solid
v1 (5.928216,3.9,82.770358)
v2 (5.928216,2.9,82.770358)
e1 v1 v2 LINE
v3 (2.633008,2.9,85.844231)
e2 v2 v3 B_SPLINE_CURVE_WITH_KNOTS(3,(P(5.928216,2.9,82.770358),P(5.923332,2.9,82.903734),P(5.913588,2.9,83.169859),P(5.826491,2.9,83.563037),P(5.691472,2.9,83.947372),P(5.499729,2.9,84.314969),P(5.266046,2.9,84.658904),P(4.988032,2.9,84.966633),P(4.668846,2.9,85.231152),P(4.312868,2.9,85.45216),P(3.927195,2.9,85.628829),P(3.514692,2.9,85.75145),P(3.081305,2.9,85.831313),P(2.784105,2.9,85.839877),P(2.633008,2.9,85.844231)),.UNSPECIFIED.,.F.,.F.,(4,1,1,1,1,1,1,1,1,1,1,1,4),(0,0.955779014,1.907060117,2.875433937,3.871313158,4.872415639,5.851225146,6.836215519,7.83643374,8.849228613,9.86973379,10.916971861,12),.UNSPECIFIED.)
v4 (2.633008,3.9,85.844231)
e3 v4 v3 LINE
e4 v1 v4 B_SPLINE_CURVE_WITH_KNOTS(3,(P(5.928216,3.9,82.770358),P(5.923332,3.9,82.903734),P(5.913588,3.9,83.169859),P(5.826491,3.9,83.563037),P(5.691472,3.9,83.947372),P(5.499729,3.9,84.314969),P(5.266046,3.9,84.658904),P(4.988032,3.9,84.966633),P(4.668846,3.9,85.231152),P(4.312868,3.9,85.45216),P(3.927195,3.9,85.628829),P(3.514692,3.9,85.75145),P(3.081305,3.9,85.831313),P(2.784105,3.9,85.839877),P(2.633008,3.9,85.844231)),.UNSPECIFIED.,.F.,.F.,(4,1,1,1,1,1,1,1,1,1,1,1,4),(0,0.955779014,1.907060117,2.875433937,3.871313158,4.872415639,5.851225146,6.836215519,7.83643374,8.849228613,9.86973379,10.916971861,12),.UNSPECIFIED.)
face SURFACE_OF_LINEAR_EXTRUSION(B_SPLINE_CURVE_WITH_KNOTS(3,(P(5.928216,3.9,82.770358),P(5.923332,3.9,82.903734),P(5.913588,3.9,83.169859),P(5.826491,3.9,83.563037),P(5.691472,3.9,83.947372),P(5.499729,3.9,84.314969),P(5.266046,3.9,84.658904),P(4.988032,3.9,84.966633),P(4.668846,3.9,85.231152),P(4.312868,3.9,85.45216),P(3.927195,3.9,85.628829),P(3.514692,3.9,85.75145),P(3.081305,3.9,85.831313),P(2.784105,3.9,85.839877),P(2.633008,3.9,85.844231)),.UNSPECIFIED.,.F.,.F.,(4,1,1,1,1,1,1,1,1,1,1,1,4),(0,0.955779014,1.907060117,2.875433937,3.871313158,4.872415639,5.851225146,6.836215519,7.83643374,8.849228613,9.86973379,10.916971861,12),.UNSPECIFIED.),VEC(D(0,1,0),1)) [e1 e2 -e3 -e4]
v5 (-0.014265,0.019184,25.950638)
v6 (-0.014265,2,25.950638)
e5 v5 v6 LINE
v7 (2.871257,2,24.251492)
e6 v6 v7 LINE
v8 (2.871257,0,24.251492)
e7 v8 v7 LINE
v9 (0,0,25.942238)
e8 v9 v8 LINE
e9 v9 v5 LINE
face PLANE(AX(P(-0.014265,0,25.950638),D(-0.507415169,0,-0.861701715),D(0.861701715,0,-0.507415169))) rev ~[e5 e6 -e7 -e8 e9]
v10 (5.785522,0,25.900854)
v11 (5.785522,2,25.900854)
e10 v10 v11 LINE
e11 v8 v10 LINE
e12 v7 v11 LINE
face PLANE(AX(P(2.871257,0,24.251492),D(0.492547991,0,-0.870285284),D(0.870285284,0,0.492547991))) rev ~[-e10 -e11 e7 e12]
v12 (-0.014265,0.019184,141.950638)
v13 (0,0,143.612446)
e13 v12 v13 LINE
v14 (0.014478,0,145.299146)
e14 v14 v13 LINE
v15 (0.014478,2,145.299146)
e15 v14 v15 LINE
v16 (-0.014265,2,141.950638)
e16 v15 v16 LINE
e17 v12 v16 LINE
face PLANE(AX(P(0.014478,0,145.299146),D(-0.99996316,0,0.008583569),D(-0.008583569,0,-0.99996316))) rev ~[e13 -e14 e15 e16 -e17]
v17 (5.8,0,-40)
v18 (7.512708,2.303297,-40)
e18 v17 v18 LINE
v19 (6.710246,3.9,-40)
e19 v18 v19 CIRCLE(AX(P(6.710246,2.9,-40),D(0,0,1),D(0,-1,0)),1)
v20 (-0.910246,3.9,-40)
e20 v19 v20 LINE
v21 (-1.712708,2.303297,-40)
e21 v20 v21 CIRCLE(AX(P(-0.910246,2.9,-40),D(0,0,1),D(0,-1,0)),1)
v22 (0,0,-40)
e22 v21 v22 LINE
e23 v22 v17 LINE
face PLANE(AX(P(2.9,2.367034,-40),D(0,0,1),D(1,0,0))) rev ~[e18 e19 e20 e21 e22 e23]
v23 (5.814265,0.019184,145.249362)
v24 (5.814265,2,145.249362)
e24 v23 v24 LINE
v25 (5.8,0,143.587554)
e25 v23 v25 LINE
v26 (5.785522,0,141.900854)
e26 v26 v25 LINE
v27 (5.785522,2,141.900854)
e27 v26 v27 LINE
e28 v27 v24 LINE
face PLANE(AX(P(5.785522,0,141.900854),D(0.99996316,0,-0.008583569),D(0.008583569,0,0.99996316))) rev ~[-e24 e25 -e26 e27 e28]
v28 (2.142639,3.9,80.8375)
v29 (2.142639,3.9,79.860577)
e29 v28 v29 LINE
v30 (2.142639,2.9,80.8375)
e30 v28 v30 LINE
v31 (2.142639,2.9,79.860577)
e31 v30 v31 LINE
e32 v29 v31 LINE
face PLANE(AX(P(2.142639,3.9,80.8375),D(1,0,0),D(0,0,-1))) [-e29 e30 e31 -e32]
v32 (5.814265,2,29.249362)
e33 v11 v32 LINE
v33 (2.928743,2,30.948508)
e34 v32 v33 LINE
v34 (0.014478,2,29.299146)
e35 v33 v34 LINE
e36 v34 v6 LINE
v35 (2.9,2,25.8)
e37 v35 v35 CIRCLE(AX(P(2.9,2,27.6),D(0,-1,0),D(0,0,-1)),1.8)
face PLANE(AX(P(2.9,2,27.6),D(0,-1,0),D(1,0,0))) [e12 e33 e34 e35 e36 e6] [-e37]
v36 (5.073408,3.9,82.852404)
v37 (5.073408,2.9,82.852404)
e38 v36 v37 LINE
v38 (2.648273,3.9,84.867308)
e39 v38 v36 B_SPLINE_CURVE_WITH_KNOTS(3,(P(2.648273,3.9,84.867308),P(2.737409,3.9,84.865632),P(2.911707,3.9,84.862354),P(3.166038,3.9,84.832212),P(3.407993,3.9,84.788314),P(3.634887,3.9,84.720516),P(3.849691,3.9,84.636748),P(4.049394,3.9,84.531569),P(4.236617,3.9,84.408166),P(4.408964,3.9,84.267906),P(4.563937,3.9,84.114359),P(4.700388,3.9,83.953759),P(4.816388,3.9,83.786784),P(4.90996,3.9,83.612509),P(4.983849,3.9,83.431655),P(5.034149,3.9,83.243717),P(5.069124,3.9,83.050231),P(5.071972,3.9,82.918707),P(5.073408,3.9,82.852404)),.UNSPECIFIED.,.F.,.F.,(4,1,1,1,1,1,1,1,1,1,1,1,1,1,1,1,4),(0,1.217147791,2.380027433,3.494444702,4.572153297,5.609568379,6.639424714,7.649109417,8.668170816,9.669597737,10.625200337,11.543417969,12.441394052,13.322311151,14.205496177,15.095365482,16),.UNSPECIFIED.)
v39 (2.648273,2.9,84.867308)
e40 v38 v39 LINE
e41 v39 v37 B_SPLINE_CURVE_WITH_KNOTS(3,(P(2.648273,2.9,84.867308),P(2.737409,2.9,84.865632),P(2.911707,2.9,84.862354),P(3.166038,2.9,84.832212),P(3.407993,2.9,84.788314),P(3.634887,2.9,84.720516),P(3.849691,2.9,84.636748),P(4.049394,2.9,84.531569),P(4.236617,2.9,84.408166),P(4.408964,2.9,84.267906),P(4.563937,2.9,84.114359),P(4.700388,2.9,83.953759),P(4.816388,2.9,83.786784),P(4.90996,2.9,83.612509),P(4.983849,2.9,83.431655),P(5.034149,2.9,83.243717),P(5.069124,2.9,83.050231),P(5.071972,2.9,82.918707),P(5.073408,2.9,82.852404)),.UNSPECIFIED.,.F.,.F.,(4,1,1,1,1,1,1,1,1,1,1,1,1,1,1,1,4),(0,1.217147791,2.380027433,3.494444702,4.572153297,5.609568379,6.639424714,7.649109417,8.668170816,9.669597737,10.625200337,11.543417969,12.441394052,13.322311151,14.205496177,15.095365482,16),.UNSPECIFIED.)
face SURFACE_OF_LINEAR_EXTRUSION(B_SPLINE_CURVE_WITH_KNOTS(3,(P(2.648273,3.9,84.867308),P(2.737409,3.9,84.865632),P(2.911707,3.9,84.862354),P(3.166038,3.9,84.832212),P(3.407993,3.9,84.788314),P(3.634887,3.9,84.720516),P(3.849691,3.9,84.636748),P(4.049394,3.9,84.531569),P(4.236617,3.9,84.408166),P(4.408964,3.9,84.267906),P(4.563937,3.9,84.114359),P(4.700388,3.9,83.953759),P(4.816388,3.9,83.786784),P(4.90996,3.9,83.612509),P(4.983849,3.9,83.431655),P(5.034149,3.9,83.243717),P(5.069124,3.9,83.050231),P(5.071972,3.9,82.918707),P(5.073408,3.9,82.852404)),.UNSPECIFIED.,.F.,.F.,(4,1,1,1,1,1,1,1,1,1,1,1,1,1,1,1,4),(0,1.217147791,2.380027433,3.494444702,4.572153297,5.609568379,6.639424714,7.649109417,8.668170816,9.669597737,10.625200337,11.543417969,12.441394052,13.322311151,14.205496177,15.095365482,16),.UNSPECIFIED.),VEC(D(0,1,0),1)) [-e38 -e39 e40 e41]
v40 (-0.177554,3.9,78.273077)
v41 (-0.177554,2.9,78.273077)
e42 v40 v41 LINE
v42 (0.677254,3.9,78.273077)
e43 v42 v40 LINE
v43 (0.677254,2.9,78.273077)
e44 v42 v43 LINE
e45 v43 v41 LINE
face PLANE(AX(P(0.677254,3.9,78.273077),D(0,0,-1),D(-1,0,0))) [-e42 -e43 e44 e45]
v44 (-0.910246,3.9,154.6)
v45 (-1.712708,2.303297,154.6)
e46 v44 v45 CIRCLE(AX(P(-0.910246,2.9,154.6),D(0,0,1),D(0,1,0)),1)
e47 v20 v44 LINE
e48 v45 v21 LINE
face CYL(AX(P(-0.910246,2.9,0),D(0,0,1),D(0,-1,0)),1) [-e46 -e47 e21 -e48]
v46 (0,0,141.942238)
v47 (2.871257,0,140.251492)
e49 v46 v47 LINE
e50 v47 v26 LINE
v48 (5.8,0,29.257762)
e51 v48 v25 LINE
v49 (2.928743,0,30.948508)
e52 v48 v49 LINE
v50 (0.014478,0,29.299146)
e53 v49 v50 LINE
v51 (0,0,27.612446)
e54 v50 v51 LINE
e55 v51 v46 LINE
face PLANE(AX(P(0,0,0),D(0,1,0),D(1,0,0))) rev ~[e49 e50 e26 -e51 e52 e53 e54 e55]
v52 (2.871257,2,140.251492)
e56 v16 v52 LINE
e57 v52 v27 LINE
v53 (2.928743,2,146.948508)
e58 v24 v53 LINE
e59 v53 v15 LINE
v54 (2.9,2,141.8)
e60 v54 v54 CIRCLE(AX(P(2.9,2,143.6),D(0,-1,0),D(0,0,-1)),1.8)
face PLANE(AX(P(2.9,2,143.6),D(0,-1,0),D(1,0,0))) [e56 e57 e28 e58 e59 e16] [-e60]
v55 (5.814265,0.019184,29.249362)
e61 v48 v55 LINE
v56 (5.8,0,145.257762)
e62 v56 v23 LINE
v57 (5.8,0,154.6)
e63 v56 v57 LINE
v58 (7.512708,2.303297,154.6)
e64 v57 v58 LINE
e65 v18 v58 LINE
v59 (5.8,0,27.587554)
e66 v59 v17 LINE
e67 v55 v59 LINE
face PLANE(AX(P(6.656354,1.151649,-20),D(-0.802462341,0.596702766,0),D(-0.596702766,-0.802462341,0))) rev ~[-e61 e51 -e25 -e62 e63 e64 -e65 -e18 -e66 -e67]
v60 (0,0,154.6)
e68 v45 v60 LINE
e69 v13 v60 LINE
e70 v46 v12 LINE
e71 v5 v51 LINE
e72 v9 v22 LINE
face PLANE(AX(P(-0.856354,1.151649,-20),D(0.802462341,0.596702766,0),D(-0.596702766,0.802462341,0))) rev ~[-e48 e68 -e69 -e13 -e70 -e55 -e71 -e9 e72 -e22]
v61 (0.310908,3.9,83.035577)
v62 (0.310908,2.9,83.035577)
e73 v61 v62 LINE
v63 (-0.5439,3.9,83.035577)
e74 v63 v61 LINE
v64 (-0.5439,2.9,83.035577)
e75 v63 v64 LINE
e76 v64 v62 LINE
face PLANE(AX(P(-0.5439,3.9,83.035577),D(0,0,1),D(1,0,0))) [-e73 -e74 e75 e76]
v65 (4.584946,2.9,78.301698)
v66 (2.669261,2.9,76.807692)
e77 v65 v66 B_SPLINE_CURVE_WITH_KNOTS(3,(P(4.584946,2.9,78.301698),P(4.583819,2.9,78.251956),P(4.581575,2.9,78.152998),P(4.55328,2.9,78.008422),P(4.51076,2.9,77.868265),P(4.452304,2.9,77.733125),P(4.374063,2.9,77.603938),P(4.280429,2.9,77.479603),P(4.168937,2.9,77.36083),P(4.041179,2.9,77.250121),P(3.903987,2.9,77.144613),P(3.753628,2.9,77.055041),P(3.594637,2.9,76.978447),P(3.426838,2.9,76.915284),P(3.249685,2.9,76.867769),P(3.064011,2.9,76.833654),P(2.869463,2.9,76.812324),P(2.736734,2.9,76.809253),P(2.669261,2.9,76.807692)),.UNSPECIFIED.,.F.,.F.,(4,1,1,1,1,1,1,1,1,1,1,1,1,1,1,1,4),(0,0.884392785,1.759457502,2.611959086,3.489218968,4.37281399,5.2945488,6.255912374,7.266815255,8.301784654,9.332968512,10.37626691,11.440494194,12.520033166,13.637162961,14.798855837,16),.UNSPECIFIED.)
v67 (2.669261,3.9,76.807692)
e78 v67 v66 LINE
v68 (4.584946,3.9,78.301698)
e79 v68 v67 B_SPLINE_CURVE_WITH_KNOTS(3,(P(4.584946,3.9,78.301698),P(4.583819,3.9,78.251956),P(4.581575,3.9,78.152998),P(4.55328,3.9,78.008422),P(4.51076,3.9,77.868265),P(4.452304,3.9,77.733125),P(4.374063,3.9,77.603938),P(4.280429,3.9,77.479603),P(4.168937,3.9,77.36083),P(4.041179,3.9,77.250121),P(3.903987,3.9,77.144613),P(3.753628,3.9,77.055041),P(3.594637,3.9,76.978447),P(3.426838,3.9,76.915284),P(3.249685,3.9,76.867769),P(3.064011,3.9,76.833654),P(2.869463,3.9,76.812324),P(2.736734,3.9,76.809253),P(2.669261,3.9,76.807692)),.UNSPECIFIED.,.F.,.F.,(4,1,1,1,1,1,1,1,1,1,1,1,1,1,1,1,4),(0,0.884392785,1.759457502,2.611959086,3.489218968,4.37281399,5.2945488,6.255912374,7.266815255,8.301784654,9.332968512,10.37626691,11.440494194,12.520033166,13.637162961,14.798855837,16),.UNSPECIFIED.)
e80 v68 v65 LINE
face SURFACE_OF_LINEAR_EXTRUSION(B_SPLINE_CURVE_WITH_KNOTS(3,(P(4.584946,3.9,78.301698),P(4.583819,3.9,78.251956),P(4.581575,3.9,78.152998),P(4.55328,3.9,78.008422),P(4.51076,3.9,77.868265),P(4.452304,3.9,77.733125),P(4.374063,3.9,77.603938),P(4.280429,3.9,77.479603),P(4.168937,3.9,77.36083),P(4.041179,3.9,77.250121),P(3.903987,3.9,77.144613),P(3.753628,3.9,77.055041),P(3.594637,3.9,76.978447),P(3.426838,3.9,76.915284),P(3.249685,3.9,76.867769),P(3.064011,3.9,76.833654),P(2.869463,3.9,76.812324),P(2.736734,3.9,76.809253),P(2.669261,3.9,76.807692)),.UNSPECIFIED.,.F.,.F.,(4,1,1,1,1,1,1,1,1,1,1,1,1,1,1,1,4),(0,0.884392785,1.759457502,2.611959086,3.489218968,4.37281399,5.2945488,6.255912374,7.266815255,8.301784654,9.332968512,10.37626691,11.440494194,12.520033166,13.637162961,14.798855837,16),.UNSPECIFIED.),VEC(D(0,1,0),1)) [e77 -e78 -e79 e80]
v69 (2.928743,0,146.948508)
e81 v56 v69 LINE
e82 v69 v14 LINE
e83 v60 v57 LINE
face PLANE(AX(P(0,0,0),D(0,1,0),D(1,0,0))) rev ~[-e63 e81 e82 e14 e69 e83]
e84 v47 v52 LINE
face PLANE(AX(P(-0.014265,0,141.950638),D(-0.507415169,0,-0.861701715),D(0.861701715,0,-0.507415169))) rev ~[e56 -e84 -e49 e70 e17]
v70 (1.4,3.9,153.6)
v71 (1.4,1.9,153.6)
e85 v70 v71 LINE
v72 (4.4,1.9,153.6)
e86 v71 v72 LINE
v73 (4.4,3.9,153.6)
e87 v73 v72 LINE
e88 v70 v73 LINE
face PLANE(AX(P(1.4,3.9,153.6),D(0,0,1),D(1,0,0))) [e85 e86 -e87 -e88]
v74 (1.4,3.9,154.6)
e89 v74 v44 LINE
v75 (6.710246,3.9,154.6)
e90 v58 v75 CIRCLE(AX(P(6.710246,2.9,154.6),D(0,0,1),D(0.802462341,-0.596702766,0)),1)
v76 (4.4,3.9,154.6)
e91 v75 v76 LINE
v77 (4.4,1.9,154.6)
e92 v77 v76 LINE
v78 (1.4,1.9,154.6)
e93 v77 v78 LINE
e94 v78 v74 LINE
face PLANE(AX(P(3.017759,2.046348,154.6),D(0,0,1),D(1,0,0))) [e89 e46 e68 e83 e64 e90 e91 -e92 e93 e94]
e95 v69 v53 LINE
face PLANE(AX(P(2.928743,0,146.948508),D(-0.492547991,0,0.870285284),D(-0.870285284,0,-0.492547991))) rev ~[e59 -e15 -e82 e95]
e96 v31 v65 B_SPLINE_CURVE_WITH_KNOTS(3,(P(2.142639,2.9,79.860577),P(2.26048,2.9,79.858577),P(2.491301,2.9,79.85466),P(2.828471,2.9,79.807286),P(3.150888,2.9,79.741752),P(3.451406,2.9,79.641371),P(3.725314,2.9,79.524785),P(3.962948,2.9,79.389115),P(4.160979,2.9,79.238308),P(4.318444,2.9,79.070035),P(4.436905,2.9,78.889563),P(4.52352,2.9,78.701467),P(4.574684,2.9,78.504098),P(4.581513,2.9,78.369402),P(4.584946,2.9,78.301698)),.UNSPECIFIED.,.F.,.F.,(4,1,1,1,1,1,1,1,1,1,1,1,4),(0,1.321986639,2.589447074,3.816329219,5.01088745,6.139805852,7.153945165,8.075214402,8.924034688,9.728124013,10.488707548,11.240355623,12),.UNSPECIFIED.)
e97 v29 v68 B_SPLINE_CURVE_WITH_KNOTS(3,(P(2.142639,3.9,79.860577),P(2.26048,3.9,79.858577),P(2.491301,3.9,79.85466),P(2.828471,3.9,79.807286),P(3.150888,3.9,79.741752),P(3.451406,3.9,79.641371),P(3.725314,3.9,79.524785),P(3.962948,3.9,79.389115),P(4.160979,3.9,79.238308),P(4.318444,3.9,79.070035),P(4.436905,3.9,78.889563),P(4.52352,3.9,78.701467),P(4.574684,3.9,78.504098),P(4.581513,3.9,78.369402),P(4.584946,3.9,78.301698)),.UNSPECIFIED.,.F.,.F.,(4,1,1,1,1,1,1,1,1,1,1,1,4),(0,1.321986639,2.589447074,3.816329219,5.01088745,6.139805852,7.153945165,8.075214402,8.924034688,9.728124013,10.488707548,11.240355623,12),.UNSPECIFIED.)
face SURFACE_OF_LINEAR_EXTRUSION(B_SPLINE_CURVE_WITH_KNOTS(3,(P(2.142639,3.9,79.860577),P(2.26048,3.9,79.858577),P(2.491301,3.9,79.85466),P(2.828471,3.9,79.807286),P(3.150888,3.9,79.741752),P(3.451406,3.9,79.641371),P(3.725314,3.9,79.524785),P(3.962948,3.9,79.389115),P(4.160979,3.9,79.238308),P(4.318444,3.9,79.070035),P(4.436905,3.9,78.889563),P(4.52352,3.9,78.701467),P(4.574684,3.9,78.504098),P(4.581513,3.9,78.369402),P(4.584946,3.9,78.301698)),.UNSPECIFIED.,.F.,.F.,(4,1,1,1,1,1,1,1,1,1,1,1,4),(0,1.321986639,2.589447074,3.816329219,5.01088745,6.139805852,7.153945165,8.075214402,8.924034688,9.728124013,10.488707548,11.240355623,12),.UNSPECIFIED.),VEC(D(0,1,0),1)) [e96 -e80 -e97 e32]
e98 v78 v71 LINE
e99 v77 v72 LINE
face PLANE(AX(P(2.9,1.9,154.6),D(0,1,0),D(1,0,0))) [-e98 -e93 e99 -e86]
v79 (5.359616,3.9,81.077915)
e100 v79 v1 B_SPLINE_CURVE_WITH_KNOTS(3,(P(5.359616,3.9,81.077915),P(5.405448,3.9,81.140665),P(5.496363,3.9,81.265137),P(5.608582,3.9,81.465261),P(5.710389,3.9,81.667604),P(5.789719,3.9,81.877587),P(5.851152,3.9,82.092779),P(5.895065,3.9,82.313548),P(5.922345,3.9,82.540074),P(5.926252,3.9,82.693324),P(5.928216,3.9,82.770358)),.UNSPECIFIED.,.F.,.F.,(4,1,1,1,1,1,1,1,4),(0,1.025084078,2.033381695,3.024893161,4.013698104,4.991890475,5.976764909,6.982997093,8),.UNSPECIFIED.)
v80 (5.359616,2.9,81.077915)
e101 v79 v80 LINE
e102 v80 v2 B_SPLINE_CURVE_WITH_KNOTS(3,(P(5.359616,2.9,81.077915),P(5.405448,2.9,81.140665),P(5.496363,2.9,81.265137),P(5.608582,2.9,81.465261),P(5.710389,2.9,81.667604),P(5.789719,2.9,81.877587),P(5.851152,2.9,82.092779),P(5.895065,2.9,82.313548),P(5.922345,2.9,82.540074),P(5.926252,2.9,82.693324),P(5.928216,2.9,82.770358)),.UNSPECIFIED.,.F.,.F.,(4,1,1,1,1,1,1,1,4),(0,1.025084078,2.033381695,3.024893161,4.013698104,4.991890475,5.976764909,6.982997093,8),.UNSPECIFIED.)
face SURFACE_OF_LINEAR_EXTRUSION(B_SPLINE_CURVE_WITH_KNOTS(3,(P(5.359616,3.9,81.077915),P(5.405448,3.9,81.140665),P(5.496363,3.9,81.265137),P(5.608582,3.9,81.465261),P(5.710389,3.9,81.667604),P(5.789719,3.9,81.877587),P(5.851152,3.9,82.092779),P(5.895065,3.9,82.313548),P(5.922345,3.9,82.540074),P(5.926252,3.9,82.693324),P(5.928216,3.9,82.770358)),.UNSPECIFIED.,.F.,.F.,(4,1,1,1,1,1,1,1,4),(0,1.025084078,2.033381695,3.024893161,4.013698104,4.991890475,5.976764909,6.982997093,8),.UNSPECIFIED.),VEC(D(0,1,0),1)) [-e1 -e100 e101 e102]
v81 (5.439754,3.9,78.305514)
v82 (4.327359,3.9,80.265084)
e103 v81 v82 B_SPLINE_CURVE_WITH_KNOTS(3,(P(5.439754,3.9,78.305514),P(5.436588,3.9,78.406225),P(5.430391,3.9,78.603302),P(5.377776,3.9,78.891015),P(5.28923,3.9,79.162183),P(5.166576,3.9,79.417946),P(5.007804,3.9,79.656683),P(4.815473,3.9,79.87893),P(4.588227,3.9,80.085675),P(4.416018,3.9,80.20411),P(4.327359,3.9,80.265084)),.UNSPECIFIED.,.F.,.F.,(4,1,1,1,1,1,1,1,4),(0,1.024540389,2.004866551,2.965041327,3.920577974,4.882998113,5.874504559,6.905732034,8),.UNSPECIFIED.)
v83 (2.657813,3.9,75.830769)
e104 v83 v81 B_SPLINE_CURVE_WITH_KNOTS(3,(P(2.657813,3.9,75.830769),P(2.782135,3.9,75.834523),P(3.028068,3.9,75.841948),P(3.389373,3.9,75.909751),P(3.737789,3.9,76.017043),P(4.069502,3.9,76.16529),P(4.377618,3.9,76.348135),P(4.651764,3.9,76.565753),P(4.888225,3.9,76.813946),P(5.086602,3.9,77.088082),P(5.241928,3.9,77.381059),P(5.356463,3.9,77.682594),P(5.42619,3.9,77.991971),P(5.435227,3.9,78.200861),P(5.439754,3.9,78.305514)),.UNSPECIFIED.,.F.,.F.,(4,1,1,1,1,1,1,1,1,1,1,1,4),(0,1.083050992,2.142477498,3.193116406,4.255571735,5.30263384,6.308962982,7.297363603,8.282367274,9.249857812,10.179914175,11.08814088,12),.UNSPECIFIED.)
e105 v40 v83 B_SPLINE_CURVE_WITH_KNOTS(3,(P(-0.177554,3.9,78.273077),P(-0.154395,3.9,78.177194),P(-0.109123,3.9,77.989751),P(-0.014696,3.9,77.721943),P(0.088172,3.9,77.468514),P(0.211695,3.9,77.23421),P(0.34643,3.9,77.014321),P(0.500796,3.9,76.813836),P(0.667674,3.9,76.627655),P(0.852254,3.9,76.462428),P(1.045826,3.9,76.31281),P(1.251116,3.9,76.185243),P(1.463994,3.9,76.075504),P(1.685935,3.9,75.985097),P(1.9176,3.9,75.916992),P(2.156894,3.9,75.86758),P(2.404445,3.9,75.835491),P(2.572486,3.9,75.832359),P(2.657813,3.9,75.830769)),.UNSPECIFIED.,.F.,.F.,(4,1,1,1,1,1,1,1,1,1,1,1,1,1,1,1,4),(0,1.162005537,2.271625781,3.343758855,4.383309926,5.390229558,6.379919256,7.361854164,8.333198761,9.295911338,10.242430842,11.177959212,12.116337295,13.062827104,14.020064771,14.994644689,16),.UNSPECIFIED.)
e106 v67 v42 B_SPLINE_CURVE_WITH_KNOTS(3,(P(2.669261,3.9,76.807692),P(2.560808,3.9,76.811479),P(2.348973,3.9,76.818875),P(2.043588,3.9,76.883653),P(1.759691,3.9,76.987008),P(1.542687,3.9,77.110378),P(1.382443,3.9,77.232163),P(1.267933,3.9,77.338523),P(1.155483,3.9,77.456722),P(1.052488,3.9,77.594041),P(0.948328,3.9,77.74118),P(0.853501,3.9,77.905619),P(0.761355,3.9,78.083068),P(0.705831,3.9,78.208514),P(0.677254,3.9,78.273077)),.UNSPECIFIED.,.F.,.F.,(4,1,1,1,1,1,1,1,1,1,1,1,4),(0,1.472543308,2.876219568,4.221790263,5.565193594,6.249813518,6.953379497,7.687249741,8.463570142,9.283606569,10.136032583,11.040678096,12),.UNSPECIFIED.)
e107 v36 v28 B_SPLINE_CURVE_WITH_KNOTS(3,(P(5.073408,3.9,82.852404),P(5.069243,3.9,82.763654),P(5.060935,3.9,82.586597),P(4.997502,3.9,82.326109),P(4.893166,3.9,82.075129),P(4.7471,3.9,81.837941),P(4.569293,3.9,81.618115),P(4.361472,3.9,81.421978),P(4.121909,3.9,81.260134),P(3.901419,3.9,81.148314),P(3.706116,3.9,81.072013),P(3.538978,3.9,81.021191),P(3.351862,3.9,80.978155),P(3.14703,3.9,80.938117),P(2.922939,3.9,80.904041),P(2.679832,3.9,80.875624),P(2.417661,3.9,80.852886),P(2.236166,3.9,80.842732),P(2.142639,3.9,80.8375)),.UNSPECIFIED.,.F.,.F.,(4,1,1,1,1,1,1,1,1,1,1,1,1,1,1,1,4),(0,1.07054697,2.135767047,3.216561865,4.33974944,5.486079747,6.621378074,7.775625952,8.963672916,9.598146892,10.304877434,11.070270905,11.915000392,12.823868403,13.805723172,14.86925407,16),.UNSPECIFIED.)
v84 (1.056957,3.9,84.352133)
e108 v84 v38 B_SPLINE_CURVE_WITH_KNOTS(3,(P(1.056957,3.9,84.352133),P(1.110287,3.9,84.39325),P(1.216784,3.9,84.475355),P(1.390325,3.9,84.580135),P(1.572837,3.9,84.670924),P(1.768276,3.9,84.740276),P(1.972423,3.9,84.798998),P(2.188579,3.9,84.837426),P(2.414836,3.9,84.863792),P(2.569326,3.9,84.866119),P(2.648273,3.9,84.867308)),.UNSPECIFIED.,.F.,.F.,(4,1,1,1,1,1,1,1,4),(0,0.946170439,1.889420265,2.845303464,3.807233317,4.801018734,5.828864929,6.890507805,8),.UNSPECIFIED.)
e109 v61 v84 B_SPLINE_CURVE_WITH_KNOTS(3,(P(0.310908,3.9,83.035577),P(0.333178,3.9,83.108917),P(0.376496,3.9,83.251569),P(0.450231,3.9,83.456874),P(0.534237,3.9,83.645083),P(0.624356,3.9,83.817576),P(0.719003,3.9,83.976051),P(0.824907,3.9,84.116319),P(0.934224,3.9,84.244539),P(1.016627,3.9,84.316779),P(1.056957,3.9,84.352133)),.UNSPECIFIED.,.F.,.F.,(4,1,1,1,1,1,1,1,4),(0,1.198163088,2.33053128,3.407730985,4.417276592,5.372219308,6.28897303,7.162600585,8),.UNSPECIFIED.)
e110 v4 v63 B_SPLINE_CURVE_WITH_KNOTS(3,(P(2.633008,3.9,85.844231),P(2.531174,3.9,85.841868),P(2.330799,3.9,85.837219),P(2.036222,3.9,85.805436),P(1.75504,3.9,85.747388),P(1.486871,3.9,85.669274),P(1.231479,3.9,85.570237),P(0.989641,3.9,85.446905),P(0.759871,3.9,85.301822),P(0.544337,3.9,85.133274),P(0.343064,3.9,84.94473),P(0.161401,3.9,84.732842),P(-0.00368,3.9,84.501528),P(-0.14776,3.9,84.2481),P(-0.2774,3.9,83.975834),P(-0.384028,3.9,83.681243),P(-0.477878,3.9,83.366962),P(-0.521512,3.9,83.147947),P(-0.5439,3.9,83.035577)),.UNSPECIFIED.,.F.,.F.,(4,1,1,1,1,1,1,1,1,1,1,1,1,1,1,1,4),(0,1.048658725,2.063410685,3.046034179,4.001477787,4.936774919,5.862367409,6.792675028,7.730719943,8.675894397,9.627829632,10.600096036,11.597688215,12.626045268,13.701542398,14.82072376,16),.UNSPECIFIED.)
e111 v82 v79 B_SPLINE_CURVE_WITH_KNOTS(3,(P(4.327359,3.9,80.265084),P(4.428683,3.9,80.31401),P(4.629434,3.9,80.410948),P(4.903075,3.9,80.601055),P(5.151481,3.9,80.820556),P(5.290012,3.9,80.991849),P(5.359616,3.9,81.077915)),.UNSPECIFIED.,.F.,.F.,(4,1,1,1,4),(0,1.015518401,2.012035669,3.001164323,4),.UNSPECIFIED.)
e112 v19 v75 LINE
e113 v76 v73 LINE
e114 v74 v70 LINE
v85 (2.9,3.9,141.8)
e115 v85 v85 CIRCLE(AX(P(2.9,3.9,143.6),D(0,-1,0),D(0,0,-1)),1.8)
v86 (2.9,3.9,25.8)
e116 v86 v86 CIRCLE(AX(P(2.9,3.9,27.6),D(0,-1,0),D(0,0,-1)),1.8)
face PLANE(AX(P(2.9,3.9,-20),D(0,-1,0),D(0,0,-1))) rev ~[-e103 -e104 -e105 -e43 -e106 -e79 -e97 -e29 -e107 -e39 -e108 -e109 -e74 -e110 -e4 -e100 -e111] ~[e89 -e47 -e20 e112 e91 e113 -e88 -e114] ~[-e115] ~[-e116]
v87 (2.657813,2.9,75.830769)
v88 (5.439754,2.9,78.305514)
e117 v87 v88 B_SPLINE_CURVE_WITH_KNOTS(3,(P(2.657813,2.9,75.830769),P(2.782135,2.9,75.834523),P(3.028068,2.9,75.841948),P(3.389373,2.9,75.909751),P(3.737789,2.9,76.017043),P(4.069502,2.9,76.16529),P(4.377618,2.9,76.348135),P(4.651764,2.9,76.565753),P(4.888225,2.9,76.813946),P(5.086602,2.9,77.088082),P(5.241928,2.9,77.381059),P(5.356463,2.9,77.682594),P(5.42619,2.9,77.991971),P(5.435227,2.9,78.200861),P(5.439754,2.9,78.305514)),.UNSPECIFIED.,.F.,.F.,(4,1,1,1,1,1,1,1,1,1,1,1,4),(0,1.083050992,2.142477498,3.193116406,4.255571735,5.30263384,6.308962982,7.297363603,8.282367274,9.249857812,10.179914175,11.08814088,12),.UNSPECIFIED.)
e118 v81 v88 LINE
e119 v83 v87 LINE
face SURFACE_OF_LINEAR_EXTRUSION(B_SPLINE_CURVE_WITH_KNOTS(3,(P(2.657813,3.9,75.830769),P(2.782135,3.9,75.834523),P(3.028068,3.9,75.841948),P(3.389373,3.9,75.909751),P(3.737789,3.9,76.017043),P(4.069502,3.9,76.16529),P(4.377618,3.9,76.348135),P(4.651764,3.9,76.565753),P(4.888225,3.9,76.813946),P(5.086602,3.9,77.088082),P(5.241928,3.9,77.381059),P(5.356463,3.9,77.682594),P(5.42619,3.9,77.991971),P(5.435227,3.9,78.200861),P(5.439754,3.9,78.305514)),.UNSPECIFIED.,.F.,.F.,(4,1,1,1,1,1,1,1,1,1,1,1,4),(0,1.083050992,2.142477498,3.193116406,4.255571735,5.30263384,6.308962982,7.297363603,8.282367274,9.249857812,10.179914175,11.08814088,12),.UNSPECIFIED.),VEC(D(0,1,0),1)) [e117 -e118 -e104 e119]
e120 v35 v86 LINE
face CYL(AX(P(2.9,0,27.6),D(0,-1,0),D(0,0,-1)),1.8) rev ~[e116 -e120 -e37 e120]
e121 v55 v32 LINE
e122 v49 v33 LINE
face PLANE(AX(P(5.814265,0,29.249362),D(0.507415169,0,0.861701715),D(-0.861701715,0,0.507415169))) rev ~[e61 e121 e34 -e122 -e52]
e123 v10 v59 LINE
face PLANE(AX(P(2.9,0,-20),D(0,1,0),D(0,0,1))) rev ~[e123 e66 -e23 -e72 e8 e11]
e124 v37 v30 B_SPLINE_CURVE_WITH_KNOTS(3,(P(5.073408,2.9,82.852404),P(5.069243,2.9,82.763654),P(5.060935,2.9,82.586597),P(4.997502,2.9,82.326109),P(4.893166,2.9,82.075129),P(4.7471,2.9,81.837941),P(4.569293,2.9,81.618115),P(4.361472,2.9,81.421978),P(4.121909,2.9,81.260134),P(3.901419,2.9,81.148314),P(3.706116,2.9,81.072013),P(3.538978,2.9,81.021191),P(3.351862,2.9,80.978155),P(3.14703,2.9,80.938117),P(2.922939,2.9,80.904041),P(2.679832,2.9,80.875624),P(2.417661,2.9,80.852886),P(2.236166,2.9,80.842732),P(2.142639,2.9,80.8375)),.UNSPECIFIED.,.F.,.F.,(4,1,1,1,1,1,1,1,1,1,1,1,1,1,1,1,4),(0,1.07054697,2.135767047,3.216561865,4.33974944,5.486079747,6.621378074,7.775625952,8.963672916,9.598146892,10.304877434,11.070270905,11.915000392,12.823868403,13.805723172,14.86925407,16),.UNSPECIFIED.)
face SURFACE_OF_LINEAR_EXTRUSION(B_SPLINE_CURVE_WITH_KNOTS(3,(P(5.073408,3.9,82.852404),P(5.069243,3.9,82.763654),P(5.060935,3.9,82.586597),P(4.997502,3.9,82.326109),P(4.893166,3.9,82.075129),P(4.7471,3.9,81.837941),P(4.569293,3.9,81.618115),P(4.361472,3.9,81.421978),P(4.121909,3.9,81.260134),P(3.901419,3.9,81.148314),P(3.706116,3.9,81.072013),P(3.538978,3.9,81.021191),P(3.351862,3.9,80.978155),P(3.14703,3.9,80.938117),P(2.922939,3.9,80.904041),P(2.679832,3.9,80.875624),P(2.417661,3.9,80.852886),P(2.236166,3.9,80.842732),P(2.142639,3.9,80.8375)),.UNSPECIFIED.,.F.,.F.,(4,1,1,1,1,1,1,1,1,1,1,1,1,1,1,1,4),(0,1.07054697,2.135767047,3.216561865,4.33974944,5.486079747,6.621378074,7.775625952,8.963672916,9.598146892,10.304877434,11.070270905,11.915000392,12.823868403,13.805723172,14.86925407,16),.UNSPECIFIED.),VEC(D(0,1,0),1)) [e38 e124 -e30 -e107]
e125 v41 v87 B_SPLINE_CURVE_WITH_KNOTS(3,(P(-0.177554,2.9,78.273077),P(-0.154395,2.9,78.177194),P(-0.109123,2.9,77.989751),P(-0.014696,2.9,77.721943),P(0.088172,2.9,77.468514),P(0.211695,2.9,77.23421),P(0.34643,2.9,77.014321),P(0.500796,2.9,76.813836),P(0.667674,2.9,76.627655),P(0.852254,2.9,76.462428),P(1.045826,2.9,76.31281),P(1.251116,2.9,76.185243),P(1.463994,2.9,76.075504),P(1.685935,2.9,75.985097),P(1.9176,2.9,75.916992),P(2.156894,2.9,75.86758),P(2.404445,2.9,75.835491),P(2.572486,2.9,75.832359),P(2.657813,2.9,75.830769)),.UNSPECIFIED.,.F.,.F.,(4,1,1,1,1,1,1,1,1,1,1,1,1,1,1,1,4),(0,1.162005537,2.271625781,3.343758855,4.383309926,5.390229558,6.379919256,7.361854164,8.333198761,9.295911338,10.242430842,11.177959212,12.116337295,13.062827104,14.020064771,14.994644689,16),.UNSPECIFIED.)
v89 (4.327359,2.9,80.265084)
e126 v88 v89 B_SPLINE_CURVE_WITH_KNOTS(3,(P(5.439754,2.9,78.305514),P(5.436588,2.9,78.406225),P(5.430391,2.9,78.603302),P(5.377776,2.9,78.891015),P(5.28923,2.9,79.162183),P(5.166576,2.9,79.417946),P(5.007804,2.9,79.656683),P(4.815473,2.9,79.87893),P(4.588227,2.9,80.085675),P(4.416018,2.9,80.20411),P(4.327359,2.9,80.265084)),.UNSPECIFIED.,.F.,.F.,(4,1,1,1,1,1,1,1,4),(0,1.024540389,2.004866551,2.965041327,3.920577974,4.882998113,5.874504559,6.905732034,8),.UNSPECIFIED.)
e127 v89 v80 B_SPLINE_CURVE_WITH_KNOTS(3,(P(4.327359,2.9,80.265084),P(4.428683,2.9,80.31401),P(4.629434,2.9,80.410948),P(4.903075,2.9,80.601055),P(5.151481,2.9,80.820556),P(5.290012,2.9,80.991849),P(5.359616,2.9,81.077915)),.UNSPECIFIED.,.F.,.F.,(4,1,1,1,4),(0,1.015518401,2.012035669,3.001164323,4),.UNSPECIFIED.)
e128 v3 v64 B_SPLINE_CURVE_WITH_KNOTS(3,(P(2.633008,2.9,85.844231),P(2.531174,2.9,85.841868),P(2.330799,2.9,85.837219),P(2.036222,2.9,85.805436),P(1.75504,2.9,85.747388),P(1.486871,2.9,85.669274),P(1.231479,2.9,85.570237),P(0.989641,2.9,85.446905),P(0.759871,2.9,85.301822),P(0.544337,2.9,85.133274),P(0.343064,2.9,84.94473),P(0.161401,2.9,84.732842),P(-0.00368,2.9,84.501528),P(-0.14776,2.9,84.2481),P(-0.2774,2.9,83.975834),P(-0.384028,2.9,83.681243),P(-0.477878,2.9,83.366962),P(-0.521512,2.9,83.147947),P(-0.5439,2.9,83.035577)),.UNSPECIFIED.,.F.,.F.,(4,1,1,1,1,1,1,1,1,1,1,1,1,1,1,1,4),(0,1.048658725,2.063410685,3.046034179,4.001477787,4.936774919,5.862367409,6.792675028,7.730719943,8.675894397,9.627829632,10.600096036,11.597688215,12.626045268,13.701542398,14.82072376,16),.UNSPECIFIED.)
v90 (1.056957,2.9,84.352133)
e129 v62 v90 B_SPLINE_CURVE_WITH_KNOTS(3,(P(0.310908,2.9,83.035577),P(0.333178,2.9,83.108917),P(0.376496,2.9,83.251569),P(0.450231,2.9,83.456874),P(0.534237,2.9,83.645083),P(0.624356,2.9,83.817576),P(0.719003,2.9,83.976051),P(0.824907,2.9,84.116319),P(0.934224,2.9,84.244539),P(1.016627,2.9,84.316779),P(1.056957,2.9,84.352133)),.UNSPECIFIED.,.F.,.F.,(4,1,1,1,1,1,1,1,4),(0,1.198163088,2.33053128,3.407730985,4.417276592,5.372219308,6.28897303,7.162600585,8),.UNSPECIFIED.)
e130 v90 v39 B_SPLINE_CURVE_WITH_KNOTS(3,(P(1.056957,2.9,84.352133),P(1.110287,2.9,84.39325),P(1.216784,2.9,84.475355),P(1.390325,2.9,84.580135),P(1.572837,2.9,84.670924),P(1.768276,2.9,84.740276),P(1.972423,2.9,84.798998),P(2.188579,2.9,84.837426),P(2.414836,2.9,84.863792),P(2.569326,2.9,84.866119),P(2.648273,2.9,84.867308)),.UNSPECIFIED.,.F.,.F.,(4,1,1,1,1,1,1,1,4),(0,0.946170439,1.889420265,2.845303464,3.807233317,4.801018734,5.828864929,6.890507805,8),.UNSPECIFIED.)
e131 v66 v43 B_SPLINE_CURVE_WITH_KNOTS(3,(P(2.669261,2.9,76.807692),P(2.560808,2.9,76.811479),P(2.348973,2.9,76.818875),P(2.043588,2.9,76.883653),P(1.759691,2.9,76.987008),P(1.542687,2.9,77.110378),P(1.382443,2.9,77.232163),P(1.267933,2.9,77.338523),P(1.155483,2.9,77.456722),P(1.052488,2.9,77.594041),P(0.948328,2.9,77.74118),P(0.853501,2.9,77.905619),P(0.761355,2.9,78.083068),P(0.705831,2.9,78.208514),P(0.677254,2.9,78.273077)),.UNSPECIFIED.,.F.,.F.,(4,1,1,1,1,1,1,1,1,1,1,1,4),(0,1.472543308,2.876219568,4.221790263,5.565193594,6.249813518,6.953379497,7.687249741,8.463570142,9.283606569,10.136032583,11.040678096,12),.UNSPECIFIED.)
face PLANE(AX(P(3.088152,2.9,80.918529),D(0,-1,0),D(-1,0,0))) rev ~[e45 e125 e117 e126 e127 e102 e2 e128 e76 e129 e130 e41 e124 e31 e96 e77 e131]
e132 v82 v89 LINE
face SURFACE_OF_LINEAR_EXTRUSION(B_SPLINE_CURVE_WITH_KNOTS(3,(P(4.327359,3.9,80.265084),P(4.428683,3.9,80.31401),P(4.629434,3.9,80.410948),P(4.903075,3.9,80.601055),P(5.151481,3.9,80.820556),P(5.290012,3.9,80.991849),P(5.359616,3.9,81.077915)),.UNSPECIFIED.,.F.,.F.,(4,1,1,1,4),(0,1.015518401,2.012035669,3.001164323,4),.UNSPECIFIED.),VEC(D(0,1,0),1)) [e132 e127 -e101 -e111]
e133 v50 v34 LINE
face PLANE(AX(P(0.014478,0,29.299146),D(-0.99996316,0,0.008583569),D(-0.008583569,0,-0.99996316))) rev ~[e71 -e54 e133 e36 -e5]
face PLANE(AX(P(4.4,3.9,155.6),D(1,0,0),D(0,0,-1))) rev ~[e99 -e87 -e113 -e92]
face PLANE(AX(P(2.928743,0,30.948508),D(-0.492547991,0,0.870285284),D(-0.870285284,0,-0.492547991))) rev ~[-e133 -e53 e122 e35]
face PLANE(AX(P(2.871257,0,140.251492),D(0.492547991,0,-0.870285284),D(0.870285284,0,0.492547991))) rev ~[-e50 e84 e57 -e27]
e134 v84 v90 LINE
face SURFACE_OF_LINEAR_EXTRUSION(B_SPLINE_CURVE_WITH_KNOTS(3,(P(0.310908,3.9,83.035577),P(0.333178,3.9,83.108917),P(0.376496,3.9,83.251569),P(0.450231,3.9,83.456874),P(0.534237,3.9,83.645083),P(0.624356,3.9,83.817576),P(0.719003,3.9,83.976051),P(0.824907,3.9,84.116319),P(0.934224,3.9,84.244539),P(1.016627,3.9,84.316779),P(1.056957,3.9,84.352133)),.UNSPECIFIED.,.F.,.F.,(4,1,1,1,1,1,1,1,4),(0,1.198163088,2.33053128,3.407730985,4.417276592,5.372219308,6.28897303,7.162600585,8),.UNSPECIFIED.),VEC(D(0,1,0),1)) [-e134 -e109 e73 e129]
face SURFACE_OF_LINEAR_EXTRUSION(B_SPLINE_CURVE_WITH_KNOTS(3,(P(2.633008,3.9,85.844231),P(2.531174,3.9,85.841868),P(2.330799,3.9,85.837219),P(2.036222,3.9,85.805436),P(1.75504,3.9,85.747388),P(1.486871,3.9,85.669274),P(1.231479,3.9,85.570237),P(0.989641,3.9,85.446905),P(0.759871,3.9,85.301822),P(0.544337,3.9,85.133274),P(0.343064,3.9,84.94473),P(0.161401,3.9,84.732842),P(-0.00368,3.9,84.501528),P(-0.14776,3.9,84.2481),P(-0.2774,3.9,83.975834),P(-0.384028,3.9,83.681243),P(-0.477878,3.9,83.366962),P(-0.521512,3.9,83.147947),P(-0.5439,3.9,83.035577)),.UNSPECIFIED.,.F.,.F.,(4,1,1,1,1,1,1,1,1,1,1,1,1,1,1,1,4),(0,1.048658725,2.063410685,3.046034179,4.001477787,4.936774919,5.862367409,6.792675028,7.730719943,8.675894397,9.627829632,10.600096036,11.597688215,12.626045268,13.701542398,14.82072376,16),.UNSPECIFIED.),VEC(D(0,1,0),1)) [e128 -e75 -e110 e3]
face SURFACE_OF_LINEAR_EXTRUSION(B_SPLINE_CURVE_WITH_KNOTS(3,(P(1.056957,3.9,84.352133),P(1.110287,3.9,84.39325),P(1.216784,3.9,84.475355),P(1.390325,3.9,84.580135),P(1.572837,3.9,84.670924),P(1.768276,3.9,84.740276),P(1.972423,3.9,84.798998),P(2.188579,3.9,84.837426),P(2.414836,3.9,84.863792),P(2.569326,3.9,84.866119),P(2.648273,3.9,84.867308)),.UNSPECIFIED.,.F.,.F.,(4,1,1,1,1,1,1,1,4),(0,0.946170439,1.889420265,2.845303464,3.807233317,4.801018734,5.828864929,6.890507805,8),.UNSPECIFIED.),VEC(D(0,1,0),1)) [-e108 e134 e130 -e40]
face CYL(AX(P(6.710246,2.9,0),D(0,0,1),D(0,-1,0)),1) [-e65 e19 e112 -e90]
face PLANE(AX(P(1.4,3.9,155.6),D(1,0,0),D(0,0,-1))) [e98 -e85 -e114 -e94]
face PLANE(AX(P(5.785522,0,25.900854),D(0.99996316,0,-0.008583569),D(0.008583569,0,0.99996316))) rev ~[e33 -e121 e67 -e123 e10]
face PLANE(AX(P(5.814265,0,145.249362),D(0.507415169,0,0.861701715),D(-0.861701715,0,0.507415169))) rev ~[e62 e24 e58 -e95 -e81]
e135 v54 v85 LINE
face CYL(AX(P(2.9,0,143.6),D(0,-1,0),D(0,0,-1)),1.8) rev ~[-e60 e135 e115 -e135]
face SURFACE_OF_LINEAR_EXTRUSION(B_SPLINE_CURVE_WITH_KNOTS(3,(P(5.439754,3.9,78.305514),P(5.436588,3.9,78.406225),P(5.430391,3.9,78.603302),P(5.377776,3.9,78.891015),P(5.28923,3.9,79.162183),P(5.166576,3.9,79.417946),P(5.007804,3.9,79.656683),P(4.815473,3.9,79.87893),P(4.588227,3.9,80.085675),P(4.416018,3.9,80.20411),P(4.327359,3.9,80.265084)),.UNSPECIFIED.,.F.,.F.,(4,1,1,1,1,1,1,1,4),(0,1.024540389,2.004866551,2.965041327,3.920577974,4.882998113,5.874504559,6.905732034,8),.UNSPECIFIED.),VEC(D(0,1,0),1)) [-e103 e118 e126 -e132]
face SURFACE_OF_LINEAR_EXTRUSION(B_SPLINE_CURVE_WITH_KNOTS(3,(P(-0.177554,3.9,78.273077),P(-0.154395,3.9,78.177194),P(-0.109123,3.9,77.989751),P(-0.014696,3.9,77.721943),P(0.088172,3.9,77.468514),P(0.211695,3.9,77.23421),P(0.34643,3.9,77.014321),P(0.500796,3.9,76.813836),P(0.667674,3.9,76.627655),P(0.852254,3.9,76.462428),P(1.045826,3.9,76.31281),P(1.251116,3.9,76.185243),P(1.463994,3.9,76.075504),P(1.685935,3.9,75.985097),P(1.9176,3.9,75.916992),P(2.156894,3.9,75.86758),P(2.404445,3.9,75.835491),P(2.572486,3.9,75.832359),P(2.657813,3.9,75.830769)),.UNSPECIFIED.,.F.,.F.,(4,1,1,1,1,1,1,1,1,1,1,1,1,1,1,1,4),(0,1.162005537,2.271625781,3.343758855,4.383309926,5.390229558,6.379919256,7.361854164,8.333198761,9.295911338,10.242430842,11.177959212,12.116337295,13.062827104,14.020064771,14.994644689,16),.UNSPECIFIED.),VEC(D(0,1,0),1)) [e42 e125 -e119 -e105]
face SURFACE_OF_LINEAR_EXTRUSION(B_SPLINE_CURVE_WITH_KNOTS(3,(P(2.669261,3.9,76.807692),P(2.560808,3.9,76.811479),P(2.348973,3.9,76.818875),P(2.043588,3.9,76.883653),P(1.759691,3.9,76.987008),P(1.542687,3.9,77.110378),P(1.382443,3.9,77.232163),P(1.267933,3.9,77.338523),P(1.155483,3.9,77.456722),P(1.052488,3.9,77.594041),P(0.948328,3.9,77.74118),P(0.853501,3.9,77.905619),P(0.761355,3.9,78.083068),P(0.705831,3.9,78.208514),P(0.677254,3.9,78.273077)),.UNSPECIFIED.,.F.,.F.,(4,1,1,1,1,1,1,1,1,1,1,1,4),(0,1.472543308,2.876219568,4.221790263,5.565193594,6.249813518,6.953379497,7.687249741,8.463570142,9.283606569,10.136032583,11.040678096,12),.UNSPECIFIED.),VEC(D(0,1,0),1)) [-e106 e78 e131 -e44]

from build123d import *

# Parameters (mm, degrees)
BOSS_EXTRUDE1_DEPTH = 171.2
FILLET1_R           = 1
SKETCH2_R           = 1.8
CUT_EXTRUDE1_DEPTH  = 200
CUT_EXTRUDE2_DEPTH  = 2
LPATTERN1_COUNT     = 3
LPATTERN1_PITCH     = 116
CUT_EXTRUDE3_DEPTH  = 1
SKETCH5_W           = 10.598271306
SKETCH5_H           = 4.806690724
CUT_EXTRUDE4_DEPTH  = 16.6
SKETCH6_W           = 3
SKETCH6_H           = 2
CUT_EXTRUDE5_DEPTH  = 2
THICKEN1_T1         = 40


with BuildPart() as part:
    # Sketch1 → Boss-Extrude1 (new body)
    with BuildSketch(Plane.XY):
        Polygon((0, 0), (5.8, 0), (8.7, 3.9), (-2.9, 3.9), align=None)
    extrude(amount=BOSS_EXTRUDE1_DEPTH)

    # Fillet1
    fillet1_edges = [part.edges().sort_by_distance(p)[0] for p in [
        (-2.9, 3.9, 85.6),
        (8.7, 3.9, 85.6),
    ]]
    fillet(fillet1_edges, radius=FILLET1_R)

    # Sketch2 → Cut-Extrude1 (cut)
    with BuildSketch(Plane.XZ):
        with Locations(Location((2.9, 143.6, 0), (0, 0, 270))):
            Circle(SKETCH2_R)
    cut_extrude1 = extrude(amount=-CUT_EXTRUDE1_DEPTH, mode=Mode.SUBTRACT)

    # Sketch3 → Cut-Extrude2 (cut)
    with BuildSketch(Plane.XZ):
        Polygon((2.92874321, 146.948508199), (0.01447844, 145.29914645), (-0.014264771, 141.950638251), (2.87125679, 140.251491801), (5.78552156, 141.90085355), (5.814264771, 145.249361749), align=None)
    cut_extrude2 = extrude(amount=-CUT_EXTRUDE2_DEPTH, mode=Mode.SUBTRACT)

    # LPattern1: Cut-Extrude1, Cut-Extrude2 ×3
    with Locations(*[(0, 0, -i * LPATTERN1_PITCH) for i in range(1, LPATTERN1_COUNT)]):
        add(cut_extrude1, mode=Mode.SUBTRACT)
        add(cut_extrude2, mode=Mode.SUBTRACT)

    # Sketch4 → Cut-Extrude3 (cut)
    with BuildSketch(Plane(origin=(0, 3.9, 0), x_dir=(1, 0, 0), z_dir=(0, 1, 0))):
        with BuildLine():
            Line((0.677254142, -78.273076923), (-0.177553551, -78.273076923))
            add(Edge.make_bspline(
                [(-0.177553551, -78.273076923), (-0.154395416, -78.177194235), (-0.109123158, -77.989751421), (-0.01469619, -77.72194309), (0.088171783, -77.468514078), (0.211694989, -77.234209763), (0.346429527, -77.014321321), (0.500796362, -76.81383606), (0.667673607, -76.627655062), (0.852254362, -76.462428322), (1.045825934, -76.312810359), (1.251115864, -76.185243239), (1.463993881, -76.075503937), (1.685934908, -75.985097449), (1.917599703, -75.916992274), (2.156893893, -75.867579824), (2.404444561, -75.835491149), (2.572486218, -75.83235943), (2.657813036, -75.830769231)],
                knots=[0, 0, 0, 0, 1.162005537, 2.271625781, 3.343758855, 4.383309926, 5.390229558, 6.379919256, 7.361854164, 8.333198761, 9.295911338, 10.242430842, 11.177959212, 12.116337295, 13.062827104, 14.020064771, 14.994644689, 16, 16, 16, 16], degree=3))
            add(Edge.make_bspline(
                [(2.657813036, -75.830769231), (2.782135355, -75.834522707), (3.028068164, -75.841947786), (3.389373313, -75.909750646), (3.737789156, -76.017043327), (4.069502038, -76.165289685), (4.377617915, -76.348135158), (4.651764252, -76.565753478), (4.888225128, -76.813945863), (5.08660197, -77.088082341), (5.241927503, -77.381059121), (5.356462562, -77.682593834), (5.426190137, -77.991971199), (5.435226795, -78.200860651), (5.439754142, -78.305513822)],
                knots=[0, 0, 0, 0, 1.083050992, 2.142477498, 3.193116406, 4.255571735, 5.30263384, 6.308962982, 7.297363603, 8.282367274, 9.249857812, 10.179914175, 11.08814088, 12, 12, 12, 12], degree=3))
            add(Edge.make_bspline(
                [(5.439754142, -78.305513822), (5.436587512, -78.406225171), (5.430390908, -78.603301651), (5.37777561, -78.891015154), (5.289230494, -79.162182652), (5.166576355, -79.417945672), (5.007803993, -79.656682557), (4.815473296, -79.878930446), (4.588226767, -80.085675083), (4.416017657, -80.20411022), (4.32735931, -80.265084135)],
                knots=[0, 0, 0, 0, 1.024540389, 2.004866551, 2.965041327, 3.920577974, 4.882998113, 5.874504559, 6.905732034, 8, 8, 8, 8], degree=3))
            add(Edge.make_bspline(
                [(4.32735931, -80.265084135), (4.42868287, -80.314010444), (4.62943415, -80.410947615), (4.903075234, -80.601055069), (5.151481452, -80.820555557), (5.290012287, -80.991849491), (5.35961592, -81.077914663)],
                knots=[0, 0, 0, 0, 1.015518401, 2.012035669, 3.001164323, 4, 4, 4, 4], degree=3))
            add(Edge.make_bspline(
                [(5.35961592, -81.077914663), (5.405448431, -81.140664687), (5.496362912, -81.26513716), (5.608582472, -81.465261291), (5.710388704, -81.667603558), (5.789718944, -81.87758737), (5.85115211, -82.092778929), (5.895065169, -82.313547735), (5.922345153, -82.540074068), (5.926251905, -82.69332446), (5.92821568, -82.770357572)],
                knots=[0, 0, 0, 0, 1.025084078, 2.033381695, 3.024893161, 4.013698104, 4.991890475, 5.976764909, 6.982997093, 8, 8, 8, 8], degree=3))
            add(Edge.make_bspline(
                [(5.92821568, -82.770357572), (5.92333204, -82.903734028), (5.913587741, -83.169859267), (5.826490939, -83.563036902), (5.691472048, -83.947372019), (5.49972853, -84.314968546), (5.266046238, -84.658903726), (4.988032377, -84.966632824), (4.668845794, -85.231151883), (4.312867564, -85.452159718), (3.927194522, -85.628829206), (3.514692375, -85.751449818), (3.081304728, -85.83131286), (2.784104868, -85.839876839), (2.633008348, -85.844230769)],
                knots=[0, 0, 0, 0, 0.955779014, 1.907060117, 2.875433937, 3.871313158, 4.872415639, 5.851225146, 6.836215519, 7.83643374, 8.849228613, 9.86973379, 10.916971861, 12, 12, 12, 12], degree=3))
            add(Edge.make_bspline(
                [(2.633008348, -85.844230769), (2.531174395, -85.841867989), (2.330799134, -85.837218825), (2.036222185, -85.805436346), (1.75503956, -85.74738826), (1.486871083, -85.669274265), (1.231478519, -85.570236738), (0.989641205, -85.446905139), (0.75987128, -85.301821694), (0.544336992, -85.133273858), (0.343064032, -84.944729641), (0.161401262, -84.732841907), (-0.003680032, -84.501527543), (-0.147759642, -84.248099797), (-0.277400206, -83.975833776), (-0.384028381, -83.68124322), (-0.477878392, -83.366961703), (-0.52151232, -83.147947281), (-0.543899705, -83.035576923)],
                knots=[0, 0, 0, 0, 1.048658725, 2.063410685, 3.046034179, 4.001477787, 4.936774919, 5.862367409, 6.792675028, 7.730719943, 8.675894397, 9.627829632, 10.600096036, 11.597688215, 12.626045268, 13.701542398, 14.82072376, 16, 16, 16, 16], degree=3))
            Line((-0.543899705, -83.035576923), (0.310907988, -83.035576923))
            add(Edge.make_bspline(
                [(0.310907988, -83.035576923), (0.333178231, -83.108916738), (0.376495788, -83.251569048), (0.450230985, -83.456874451), (0.534236783, -83.645083153), (0.624355689, -83.817575792), (0.719002745, -83.976051116), (0.824906934, -84.116318631), (0.934224394, -84.244539288), (1.016627491, -84.316778554), (1.056956666, -84.352133413)],
                knots=[0, 0, 0, 0, 1.198163088, 2.33053128, 3.407730985, 4.417276592, 5.372219308, 6.28897303, 7.162600585, 8, 8, 8, 8], degree=3))
            add(Edge.make_bspline(
                [(1.056956666, -84.352133413), (1.110287349, -84.393249665), (1.216784096, -84.475355251), (1.390324782, -84.580134683), (1.572837079, -84.670924331), (1.768275585, -84.740276389), (1.972422925, -84.798998451), (2.188578826, -84.837426435), (2.414836267, -84.863792102), (2.56932568, -84.866118737), (2.648272771, -84.867307692)],
                knots=[0, 0, 0, 0, 0.946170439, 1.889420265, 2.845303464, 3.807233317, 4.801018734, 5.828864929, 6.890507805, 8, 8, 8, 8], degree=3))
            add(Edge.make_bspline(
                [(2.648272771, -84.867307692), (2.737409089, -84.86563155), (2.911707464, -84.862353999), (3.166038188, -84.832212254), (3.407993456, -84.788314486), (3.634886919, -84.720515583), (3.849690657, -84.636747694), (4.049393574, -84.531568819), (4.236617263, -84.408166398), (4.408963717, -84.267906259), (4.563936848, -84.114359191), (4.700387952, -83.953759333), (4.816387923, -83.786783825), (4.909960376, -83.612508653), (4.983848659, -83.431655495), (5.034149369, -83.243716823), (5.069123849, -83.050230692), (5.07197213, -82.918706855), (5.073407988, -82.852403846)],
                knots=[0, 0, 0, 0, 1.217147791, 2.380027433, 3.494444702, 4.572153297, 5.609568379, 6.639424714, 7.649109417, 8.668170816, 9.669597737, 10.625200337, 11.543417969, 12.441394052, 13.322311151, 14.205496177, 15.095365482, 16, 16, 16, 16], degree=3))
            add(Edge.make_bspline(
                [(5.073407988, -82.852403846), (5.069243381, -82.763654417), (5.060934891, -82.586597163), (4.997502257, -82.326108621), (4.893165777, -82.075129192), (4.747099871, -81.837940935), (4.569293352, -81.618115088), (4.361471713, -81.421977697), (4.121909177, -81.260134092), (3.901419391, -81.148314248), (3.706115643, -81.072013351), (3.538978061, -81.021190769), (3.351861877, -80.978155035), (3.147029884, -80.938116639), (2.922938702, -80.904040684), (2.679832296, -80.875624028), (2.417661402, -80.852886381), (2.236166158, -80.842732472), (2.142638757, -80.8375)],
                knots=[0, 0, 0, 0, 1.07054697, 2.135767047, 3.216561865, 4.33974944, 5.486079747, 6.621378074, 7.775625952, 8.963672916, 9.598146892, 10.304877434, 11.070270905, 11.915000392, 12.823868403, 13.805723172, 14.86925407, 16, 16, 16, 16], degree=3))
            Line((2.142638757, -80.8375), (2.142638757, -79.860576923))
            add(Edge.make_bspline(
                [(2.142638757, -79.860576923), (2.260479787, -79.858577207), (2.491301415, -79.854660255), (2.828470916, -79.807285598), (3.150887573, -79.741751889), (3.451406063, -79.641371473), (3.725314348, -79.524784665), (3.962948408, -79.389115438), (4.160979001, -79.238308156), (4.318443774, -79.070035126), (4.436905461, -78.889563461), (4.523519817, -78.701467414), (4.574683562, -78.504098363), (4.581513441, -78.369402159), (4.584946449, -78.301697716)],
                knots=[0, 0, 0, 0, 1.321986639, 2.589447074, 3.816329219, 5.01088745, 6.139805852, 7.153945165, 8.075214402, 8.924034688, 9.728124013, 10.488707548, 11.240355623, 12, 12, 12, 12], degree=3))
            add(Edge.make_bspline(
                [(4.584946449, -78.301697716), (4.583818659, -78.251956138), (4.581574975, -78.152997628), (4.553279526, -78.008421549), (4.510759815, -77.868265403), (4.452304266, -77.733125219), (4.374062653, -77.60393826), (4.280429219, -77.479603131), (4.16893746, -77.360829704), (4.041178779, -77.25012112), (3.903986653, -77.14461341), (3.753628337, -77.055041298), (3.594637377, -76.978446522), (3.426837753, -76.91528352), (3.249684916, -76.867769314), (3.064011213, -76.833653917), (2.869462589, -76.812324299), (2.736733804, -76.809253396), (2.669261353, -76.807692308)],
                knots=[0, 0, 0, 0, 0.884392785, 1.759457502, 2.611959086, 3.489218968, 4.37281399, 5.2945488, 6.255912374, 7.266815255, 8.301784654, 9.332968512, 10.37626691, 11.440494194, 12.520033166, 13.637162961, 14.798855837, 16, 16, 16, 16], degree=3))
            add(Edge.make_bspline(
                [(2.669261353, -76.807692308), (2.560807885, -76.8114788), (2.348973038, -76.8188747), (2.043588157, -76.883652901), (1.759690541, -76.987007543), (1.542687455, -77.110378117), (1.382442736, -77.232163226), (1.267933354, -77.338523149), (1.155482536, -77.456722476), (1.05248823, -77.59404134), (0.948328336, -77.741180248), (0.853501351, -77.905618981), (0.761354617, -78.083068083), (0.705830536, -78.20851406), (0.677254142, -78.273076923)],
                knots=[0, 0, 0, 0, 1.472543308, 2.876219568, 4.221790263, 5.565193594, 6.249813518, 6.953379497, 7.687249741, 8.463570142, 9.283606569, 10.136032583, 11.040678096, 12, 12, 12, 12], degree=3))
        make_face()
    extrude(amount=-CUT_EXTRUDE3_DEPTH, mode=Mode.SUBTRACT)

    # Sketch5 → Cut-Extrude4 (cut)
    with BuildSketch(Plane.XY.offset(171.2)):
        with Locations((3.01775857, 2.046347921)):
            Rectangle(SKETCH5_W, SKETCH5_H)
    extrude(amount=-CUT_EXTRUDE4_DEPTH, mode=Mode.SUBTRACT)

    # Sketch6 → Cut-Extrude5 (cut)
    with BuildSketch(Plane(origin=(0, 3.9, 0), x_dir=(1, 0, 0), z_dir=(0, 1, 0))):
        with Locations((2.9, -154.6)):
            Rectangle(SKETCH6_W, SKETCH6_H)
    extrude(amount=-CUT_EXTRUDE5_DEPTH, mode=Mode.SUBTRACT)

    # Surface-Offset1: a surface, a copy of 1 face of the part
    surface_offset1_1 = part.part.faces().sort_by_distance((2.9, 2.093393293, 0))[0]
    add(Solid.thicken(surface_offset1_1, THICKEN1_T1))


solid = part.part
